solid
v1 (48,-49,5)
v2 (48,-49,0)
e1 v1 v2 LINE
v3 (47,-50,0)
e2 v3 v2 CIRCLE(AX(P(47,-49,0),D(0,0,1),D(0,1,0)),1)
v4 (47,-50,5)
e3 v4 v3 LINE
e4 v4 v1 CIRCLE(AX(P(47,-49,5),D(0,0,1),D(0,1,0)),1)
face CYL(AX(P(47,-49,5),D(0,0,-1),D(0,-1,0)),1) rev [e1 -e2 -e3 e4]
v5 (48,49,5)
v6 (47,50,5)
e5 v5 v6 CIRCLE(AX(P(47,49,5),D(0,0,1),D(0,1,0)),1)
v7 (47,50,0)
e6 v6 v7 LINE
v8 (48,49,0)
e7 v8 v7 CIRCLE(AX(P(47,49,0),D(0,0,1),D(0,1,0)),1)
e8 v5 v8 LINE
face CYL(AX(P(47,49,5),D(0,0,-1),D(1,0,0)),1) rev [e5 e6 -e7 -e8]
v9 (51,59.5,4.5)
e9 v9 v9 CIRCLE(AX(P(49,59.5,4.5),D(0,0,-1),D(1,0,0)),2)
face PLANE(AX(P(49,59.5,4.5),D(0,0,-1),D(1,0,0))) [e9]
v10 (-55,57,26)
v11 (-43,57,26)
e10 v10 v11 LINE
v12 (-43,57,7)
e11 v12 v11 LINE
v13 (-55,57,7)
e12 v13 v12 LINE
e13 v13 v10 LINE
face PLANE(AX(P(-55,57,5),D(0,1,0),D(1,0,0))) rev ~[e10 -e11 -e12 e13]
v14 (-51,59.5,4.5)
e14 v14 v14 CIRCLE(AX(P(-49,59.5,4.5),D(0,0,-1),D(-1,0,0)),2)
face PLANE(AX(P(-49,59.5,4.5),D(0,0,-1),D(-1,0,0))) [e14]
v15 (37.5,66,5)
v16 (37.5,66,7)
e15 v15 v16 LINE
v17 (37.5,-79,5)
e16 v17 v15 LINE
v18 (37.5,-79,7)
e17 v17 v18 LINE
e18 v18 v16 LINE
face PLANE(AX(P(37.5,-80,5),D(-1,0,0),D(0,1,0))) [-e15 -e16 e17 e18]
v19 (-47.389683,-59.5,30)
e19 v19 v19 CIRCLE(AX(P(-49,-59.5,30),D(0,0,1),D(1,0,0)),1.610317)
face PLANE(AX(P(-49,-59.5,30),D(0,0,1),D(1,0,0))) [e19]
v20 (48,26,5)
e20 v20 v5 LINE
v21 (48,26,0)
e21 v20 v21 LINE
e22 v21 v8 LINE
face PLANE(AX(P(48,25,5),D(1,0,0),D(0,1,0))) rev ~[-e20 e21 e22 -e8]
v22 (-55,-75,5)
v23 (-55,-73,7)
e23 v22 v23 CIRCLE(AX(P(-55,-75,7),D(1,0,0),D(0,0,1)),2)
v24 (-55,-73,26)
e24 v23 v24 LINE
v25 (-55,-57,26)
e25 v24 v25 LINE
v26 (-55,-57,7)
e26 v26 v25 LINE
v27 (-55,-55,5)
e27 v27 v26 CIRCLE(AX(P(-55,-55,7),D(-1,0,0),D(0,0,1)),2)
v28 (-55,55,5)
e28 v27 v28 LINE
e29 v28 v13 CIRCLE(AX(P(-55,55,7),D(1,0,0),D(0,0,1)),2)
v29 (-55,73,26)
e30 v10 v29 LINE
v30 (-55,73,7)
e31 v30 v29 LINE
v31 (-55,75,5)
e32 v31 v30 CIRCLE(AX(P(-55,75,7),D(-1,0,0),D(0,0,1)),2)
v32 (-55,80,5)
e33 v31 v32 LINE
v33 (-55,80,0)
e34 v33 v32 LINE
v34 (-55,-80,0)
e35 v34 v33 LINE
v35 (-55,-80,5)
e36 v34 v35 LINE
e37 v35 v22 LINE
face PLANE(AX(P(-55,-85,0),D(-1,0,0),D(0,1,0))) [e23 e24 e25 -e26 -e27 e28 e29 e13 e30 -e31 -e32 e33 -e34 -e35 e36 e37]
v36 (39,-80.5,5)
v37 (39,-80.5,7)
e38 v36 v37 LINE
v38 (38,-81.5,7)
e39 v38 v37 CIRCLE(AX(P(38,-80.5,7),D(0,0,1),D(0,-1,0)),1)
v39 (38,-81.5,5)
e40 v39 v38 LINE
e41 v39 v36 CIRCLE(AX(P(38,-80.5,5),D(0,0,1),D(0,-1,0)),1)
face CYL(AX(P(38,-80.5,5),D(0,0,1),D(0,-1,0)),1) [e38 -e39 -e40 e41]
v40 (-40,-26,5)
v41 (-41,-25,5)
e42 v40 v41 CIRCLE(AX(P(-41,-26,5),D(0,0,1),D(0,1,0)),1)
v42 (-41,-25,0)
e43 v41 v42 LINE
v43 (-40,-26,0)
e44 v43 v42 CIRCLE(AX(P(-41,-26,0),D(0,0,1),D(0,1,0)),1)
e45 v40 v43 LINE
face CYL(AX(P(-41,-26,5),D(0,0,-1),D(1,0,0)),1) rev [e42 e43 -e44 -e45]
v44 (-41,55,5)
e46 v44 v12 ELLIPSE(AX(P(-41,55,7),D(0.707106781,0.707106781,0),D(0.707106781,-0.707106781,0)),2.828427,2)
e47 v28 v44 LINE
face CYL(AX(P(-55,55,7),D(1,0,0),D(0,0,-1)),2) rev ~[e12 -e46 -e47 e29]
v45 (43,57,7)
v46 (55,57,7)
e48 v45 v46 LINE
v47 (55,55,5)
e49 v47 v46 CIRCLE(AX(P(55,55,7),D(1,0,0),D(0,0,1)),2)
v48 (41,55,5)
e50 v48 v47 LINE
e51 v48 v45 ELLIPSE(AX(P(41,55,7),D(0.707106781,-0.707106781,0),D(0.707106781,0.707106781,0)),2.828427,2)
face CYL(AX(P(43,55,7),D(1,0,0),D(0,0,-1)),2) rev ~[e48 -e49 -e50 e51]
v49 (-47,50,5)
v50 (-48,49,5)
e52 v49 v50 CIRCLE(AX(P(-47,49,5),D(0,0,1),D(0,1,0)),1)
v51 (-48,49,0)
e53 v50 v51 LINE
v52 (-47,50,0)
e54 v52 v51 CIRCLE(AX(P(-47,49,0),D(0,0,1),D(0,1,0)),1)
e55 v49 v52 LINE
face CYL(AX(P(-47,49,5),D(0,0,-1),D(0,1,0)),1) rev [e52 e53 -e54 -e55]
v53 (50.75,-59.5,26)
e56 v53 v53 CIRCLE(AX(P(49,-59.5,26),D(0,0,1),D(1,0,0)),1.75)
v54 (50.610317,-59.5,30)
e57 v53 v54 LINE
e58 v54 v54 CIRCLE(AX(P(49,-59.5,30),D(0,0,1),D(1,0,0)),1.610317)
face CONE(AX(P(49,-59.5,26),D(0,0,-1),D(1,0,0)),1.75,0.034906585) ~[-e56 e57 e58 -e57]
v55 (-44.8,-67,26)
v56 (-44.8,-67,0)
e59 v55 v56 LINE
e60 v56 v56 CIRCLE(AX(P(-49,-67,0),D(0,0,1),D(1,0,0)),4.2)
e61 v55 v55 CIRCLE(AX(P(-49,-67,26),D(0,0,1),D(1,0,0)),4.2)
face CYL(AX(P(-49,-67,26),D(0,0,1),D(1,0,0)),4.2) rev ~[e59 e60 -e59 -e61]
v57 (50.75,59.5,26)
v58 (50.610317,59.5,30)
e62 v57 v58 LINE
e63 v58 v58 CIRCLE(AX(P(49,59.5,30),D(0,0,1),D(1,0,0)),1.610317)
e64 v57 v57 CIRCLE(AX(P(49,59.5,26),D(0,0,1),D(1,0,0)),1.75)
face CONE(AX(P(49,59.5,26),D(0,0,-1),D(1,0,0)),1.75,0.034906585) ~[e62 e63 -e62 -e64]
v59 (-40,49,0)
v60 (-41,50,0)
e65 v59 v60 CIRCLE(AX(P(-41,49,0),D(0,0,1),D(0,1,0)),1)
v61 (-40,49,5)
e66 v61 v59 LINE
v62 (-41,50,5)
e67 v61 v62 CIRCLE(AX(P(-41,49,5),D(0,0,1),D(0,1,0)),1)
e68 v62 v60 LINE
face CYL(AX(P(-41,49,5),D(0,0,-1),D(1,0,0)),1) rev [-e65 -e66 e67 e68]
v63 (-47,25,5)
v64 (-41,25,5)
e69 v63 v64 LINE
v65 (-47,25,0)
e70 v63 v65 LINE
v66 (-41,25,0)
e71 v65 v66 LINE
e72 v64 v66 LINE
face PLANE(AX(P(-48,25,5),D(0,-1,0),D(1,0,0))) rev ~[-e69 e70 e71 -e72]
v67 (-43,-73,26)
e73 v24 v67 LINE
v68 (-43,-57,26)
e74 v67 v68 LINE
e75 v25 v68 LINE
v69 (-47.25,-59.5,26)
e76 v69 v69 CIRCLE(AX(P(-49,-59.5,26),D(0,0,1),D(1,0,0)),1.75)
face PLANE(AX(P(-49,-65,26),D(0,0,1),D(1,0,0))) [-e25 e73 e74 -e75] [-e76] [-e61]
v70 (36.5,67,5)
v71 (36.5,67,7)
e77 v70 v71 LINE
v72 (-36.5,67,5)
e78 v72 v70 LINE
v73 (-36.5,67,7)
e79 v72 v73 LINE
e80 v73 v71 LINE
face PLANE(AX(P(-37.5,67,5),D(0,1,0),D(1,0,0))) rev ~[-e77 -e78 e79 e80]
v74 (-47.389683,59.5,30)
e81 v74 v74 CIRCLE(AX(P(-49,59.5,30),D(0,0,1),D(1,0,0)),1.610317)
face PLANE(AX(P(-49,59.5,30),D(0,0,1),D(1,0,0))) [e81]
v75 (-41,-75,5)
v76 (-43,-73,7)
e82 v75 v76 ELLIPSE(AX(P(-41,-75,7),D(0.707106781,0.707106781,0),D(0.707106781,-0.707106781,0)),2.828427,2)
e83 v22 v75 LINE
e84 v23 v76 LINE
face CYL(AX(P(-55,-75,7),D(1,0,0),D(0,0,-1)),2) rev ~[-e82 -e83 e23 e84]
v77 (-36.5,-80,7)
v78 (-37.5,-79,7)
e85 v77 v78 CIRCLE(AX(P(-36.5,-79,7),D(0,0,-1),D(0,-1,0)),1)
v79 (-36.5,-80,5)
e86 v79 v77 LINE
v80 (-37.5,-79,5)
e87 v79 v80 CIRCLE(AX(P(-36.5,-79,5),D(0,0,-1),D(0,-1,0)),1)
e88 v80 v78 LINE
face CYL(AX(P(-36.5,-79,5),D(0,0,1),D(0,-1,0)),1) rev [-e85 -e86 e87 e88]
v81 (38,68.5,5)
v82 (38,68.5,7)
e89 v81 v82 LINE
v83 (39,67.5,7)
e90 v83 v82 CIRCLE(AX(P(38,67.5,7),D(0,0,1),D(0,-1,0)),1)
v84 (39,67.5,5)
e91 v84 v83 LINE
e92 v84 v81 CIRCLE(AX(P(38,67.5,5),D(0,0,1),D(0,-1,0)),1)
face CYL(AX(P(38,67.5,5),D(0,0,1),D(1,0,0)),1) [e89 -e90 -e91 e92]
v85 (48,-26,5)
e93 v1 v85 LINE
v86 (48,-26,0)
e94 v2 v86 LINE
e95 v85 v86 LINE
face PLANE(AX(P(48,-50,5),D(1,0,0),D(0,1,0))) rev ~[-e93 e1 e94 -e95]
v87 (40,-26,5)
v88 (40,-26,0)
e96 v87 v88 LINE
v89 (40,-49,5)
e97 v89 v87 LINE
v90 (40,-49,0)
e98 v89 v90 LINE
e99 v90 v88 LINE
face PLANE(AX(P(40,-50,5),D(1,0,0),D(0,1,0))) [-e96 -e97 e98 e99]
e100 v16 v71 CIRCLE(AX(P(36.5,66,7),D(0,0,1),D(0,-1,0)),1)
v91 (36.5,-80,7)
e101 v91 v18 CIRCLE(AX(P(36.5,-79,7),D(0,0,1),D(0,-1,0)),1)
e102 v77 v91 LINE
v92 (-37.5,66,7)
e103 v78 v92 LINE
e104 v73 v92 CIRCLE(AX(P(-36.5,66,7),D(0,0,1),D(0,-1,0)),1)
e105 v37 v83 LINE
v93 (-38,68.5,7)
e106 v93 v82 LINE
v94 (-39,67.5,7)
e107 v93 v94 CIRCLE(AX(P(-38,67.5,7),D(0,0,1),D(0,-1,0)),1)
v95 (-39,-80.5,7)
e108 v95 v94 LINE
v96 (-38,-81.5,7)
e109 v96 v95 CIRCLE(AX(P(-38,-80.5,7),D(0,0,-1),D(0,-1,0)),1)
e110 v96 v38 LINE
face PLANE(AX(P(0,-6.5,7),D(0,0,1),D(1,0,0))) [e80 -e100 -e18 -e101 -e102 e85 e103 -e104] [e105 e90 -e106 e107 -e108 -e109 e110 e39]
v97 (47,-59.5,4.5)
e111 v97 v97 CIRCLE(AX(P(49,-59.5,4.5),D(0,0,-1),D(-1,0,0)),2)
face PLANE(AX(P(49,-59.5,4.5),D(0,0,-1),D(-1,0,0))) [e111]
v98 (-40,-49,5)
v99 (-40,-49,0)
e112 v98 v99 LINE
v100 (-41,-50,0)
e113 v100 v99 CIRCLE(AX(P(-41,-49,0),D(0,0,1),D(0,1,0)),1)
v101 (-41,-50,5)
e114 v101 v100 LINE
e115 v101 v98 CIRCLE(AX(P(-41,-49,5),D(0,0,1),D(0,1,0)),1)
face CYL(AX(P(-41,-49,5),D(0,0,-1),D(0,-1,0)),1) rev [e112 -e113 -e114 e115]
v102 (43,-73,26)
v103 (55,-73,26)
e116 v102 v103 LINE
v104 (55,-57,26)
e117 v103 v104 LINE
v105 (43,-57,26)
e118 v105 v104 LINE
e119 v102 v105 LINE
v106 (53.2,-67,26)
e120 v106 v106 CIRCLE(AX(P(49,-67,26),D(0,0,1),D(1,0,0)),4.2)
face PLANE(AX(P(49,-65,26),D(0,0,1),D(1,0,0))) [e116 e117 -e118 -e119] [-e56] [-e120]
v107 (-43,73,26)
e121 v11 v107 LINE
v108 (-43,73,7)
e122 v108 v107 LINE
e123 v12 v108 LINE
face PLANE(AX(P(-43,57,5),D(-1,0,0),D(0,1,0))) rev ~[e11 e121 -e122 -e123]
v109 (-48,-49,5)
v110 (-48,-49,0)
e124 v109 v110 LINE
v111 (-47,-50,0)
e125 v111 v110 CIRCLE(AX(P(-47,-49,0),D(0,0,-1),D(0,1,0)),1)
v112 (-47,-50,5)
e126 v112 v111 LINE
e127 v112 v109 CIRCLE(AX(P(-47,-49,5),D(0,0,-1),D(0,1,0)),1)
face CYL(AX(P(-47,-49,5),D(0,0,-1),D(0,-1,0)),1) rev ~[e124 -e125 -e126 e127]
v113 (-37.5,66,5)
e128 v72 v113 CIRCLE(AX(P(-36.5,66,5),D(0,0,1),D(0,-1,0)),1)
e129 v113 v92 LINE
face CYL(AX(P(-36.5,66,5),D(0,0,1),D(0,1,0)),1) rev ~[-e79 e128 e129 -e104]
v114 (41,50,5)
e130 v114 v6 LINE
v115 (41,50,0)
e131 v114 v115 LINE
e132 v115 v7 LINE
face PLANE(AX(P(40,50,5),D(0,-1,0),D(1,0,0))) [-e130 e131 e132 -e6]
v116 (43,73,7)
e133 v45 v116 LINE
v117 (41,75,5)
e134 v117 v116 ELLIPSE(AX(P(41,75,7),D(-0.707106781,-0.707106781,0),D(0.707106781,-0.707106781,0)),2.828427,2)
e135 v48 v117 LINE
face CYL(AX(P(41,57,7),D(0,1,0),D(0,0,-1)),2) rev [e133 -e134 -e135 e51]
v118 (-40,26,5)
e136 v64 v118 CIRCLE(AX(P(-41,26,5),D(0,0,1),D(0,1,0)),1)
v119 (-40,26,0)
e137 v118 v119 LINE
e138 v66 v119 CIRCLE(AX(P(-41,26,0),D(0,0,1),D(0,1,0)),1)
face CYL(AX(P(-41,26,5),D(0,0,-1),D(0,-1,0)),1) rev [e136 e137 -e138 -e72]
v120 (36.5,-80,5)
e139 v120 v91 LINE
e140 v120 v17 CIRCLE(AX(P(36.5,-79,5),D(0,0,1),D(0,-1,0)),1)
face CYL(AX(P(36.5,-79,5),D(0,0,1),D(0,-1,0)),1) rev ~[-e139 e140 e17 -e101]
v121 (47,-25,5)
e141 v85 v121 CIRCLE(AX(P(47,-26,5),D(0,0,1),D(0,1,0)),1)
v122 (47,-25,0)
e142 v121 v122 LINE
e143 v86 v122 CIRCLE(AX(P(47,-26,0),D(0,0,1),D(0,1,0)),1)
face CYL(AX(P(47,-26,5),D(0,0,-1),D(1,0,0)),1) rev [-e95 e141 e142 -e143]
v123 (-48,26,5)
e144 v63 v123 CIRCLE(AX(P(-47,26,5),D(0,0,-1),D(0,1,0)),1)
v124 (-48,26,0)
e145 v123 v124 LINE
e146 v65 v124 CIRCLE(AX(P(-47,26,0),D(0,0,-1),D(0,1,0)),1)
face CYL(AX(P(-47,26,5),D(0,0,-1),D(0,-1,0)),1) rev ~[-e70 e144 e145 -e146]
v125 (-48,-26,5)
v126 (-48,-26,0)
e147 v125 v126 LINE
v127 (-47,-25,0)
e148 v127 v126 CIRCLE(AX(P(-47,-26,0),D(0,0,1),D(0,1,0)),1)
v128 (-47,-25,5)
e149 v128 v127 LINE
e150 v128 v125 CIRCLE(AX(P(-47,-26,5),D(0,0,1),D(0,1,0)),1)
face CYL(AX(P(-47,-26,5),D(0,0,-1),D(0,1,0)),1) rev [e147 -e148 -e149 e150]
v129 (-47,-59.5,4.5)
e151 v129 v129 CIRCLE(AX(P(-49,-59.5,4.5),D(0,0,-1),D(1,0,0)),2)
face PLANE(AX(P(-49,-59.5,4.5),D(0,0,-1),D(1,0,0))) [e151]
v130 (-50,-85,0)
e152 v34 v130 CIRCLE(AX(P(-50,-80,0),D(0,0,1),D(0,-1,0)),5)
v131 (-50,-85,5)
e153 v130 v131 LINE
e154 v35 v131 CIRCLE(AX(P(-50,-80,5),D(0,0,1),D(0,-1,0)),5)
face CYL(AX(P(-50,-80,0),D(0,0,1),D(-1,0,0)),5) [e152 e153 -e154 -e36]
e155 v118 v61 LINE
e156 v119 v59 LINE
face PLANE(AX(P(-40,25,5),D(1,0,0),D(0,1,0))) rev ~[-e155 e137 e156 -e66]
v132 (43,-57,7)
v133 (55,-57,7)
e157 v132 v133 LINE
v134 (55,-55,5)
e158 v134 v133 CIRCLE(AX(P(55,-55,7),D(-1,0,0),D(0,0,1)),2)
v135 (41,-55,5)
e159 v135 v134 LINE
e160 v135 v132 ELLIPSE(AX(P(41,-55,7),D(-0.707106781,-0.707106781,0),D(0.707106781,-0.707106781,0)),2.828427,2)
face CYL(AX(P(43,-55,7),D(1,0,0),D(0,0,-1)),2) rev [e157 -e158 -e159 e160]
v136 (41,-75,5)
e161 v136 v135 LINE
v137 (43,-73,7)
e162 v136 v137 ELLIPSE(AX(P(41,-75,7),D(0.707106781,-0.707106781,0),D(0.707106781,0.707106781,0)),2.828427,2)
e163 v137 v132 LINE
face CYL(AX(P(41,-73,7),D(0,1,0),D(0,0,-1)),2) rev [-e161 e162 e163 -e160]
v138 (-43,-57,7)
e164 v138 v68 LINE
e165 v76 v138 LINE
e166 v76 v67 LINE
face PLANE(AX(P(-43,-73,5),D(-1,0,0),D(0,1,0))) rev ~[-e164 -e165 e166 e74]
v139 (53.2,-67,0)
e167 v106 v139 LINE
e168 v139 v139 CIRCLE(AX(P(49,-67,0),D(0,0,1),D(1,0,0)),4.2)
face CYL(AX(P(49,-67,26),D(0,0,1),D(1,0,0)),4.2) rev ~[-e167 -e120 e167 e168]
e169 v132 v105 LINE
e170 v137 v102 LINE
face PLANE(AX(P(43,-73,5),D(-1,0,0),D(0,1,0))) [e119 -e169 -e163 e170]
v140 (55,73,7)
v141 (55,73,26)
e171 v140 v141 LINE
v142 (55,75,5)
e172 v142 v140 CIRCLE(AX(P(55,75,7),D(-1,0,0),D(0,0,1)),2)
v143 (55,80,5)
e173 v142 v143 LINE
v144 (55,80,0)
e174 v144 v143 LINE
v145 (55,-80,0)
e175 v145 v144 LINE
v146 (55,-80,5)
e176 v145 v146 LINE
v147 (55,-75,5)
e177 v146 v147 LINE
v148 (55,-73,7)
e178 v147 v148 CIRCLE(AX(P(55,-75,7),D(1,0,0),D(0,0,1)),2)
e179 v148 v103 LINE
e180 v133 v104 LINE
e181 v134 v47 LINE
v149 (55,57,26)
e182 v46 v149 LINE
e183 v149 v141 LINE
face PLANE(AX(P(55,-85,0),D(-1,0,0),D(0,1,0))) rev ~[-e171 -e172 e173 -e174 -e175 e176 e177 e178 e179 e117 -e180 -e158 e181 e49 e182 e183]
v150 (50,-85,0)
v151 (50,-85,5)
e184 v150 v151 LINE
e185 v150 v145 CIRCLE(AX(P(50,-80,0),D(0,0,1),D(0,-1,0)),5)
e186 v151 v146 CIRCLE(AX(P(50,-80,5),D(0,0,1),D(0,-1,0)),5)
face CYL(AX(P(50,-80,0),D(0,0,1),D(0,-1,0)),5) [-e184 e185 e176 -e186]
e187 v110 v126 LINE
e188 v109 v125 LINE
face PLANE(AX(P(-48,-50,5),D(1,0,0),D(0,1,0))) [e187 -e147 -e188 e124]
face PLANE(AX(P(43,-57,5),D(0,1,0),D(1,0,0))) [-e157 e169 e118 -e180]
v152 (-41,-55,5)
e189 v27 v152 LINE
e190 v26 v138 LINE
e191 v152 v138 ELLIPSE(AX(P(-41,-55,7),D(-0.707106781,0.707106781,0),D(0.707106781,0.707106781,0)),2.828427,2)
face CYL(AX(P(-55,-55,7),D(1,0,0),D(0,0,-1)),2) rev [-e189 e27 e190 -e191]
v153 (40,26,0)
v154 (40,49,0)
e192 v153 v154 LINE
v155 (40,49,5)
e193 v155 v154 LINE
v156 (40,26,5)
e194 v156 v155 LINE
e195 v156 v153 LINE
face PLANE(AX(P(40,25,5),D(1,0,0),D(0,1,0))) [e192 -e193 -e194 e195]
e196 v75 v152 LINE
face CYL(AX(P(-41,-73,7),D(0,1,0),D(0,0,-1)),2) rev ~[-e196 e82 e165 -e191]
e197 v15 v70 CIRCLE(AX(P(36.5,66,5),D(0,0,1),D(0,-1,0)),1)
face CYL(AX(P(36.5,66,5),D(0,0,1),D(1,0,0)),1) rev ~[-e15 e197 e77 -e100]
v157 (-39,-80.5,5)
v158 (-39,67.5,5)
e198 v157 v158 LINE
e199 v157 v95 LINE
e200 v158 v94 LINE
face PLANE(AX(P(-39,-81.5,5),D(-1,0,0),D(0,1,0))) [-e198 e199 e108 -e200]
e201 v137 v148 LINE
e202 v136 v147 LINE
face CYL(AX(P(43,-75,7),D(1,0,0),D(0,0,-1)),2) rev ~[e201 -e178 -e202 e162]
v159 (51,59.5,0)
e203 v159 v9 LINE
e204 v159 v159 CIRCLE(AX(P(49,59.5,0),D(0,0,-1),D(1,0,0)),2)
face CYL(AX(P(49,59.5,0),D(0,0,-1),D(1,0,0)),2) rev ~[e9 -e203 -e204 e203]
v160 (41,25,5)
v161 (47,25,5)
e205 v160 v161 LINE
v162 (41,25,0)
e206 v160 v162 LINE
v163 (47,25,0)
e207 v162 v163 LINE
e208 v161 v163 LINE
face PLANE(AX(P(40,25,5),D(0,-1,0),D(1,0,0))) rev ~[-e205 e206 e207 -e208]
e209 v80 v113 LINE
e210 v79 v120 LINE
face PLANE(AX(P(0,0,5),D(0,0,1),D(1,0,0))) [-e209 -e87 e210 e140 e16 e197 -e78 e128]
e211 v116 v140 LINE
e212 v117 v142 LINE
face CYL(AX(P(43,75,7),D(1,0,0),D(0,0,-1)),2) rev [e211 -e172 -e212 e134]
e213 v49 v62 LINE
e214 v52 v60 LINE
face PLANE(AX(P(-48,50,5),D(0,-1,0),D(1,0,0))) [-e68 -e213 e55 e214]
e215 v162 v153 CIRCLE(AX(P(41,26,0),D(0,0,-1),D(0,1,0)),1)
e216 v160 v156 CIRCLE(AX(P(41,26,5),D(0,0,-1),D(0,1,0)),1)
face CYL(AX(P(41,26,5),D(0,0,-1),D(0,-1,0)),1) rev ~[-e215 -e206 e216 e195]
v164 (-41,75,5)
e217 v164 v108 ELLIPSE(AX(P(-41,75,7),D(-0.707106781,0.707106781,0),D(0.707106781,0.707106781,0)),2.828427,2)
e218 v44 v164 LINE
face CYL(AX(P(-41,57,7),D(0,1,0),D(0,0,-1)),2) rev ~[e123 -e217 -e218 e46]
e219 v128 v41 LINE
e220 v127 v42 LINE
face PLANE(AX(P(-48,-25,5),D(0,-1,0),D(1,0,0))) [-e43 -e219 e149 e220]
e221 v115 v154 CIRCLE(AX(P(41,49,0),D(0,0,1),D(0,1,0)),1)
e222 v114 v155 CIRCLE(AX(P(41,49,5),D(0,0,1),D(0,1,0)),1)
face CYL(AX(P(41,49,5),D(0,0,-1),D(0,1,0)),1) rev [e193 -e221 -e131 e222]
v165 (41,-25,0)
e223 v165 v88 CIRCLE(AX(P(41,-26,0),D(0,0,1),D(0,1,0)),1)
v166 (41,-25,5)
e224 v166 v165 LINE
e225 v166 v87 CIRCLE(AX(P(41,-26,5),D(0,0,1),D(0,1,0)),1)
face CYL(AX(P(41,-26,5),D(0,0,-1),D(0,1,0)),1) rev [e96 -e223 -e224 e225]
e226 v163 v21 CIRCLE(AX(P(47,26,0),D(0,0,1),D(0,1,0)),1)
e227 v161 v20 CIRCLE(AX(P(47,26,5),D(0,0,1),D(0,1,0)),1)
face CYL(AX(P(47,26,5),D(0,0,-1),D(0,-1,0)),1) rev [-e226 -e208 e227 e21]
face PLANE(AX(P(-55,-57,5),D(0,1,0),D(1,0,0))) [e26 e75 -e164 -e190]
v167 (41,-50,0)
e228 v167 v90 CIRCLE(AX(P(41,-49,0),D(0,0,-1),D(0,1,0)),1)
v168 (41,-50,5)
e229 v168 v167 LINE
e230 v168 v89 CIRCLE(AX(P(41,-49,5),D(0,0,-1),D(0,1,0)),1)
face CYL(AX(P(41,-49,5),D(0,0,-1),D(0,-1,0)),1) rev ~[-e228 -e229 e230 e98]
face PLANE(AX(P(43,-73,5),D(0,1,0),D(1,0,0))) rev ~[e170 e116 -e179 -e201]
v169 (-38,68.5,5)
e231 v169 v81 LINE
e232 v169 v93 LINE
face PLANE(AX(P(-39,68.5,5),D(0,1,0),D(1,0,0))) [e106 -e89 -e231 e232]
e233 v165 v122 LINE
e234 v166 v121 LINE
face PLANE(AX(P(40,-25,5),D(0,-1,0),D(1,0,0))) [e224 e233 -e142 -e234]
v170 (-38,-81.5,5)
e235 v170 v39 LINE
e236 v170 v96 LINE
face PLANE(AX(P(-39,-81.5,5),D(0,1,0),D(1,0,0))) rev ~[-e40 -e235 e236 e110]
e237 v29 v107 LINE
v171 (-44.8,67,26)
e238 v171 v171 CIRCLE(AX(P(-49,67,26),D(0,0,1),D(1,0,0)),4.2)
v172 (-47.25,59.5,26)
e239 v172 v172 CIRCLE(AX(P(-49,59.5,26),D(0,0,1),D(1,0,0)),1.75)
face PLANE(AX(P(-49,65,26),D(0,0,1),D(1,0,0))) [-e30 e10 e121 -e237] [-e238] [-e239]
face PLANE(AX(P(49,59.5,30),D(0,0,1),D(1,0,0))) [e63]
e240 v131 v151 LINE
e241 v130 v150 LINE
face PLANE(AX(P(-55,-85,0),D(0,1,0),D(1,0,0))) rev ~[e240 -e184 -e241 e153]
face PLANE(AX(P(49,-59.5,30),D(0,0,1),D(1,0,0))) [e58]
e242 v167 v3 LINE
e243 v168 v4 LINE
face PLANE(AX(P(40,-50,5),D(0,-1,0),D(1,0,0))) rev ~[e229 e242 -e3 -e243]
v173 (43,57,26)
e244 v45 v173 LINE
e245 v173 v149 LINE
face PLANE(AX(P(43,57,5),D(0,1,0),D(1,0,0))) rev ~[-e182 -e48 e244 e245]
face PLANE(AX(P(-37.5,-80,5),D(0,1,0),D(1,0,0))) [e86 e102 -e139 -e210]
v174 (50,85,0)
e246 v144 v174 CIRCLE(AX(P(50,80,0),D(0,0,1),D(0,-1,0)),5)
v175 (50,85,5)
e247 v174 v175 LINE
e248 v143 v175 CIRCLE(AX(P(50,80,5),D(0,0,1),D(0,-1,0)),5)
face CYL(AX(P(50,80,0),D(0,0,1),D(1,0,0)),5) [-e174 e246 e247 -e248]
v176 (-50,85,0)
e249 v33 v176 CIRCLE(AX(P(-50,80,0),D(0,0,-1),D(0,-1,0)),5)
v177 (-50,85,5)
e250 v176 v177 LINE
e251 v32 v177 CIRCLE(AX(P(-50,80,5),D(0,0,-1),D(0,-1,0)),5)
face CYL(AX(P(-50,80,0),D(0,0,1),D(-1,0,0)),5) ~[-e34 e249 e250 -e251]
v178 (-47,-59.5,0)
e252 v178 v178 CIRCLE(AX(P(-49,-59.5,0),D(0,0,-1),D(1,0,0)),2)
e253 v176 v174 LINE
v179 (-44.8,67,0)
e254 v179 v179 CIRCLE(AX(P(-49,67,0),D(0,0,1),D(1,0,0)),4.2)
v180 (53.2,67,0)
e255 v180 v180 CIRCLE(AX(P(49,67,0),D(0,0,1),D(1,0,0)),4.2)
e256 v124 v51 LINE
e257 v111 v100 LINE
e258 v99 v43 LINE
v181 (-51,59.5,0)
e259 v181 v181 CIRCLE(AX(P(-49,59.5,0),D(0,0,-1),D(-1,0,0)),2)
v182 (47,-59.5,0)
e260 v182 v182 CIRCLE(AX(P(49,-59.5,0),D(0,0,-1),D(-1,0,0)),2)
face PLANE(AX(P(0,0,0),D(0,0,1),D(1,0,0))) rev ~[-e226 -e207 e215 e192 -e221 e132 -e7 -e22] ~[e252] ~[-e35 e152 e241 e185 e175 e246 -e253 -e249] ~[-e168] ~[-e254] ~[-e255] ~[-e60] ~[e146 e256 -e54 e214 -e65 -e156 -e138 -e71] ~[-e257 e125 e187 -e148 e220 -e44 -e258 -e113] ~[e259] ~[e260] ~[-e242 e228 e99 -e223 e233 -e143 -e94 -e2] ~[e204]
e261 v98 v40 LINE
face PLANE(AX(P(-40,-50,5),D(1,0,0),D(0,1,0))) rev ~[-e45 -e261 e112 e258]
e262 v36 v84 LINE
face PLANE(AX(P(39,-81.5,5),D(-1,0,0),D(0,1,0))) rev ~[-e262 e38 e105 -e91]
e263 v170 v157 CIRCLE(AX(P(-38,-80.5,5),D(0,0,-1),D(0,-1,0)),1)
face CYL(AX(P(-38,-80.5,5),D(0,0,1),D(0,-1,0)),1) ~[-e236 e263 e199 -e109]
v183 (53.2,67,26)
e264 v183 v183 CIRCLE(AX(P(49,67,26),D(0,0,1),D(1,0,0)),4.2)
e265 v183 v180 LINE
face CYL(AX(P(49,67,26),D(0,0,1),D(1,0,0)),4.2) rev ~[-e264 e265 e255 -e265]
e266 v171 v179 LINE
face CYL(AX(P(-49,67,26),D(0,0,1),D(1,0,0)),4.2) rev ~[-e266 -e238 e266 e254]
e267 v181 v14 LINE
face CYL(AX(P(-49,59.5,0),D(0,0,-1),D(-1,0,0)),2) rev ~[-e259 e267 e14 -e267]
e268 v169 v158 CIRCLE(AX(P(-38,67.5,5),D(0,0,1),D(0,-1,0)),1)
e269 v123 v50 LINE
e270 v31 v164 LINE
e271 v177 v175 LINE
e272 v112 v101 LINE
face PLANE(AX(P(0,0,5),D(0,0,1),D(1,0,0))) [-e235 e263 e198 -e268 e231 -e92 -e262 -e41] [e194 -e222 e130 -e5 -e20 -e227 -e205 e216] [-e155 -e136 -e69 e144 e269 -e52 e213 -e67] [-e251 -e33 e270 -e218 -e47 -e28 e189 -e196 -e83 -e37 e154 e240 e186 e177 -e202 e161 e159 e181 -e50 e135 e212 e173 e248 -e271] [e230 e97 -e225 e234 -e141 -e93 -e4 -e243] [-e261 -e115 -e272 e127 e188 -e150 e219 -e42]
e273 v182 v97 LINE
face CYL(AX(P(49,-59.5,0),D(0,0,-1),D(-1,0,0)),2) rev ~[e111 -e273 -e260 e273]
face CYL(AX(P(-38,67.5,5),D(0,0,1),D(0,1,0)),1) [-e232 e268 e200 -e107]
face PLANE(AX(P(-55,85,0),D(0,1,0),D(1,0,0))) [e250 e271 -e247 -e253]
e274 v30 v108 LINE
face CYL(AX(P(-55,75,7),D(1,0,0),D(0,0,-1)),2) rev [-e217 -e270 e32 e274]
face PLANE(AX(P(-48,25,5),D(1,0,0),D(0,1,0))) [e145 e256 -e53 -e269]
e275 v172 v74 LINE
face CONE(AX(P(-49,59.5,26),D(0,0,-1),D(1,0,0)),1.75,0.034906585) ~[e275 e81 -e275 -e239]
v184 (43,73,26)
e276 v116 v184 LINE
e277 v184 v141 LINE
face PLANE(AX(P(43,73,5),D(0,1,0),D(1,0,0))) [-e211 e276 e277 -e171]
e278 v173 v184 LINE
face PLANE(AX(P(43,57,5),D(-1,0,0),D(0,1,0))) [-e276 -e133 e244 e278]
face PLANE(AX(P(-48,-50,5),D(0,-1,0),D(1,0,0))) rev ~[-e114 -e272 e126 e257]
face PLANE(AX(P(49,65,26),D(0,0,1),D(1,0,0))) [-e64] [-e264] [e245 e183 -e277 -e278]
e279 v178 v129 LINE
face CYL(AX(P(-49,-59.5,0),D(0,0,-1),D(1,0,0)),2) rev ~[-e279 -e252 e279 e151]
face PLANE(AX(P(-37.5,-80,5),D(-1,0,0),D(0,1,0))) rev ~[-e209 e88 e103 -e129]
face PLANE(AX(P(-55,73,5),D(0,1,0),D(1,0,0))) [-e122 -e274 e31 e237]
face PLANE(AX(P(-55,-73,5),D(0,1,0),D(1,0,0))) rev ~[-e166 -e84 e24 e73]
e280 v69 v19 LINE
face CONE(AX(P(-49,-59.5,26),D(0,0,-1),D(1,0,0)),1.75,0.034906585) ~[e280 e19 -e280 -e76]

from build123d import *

# Parameters (mm, degrees)
SKIZZE1_W                                 = 110
SKIZZE1_H                                 = 170
AUFSATZ_LINEAR_AUSTRAGEN1_DEPTH           = 5
VERRUNDUNG1_R                             = 5
SKIZZE7_W                                 = 12
SKIZZE7_H                                 = 16
AUFSATZ_LINEAR_AUSTRAGEN3_DEPTH           = 21
VERRUNDUNG2_R                             = 2
SKIZZE8_R                                 = 4.2
SCHNITT_LINEAR_AUSTRAGEN3_DEPTH           = 105.527508341
LINEARES_MUSTER1_COUNT                    = 2
LINEARES_MUSTER1_PITCH                    = 134
LINEARES_MUSTER1_COUNT_DIR2               = 2
LINEARES_MUSTER1_PITCH_DIR2               = 98
SKIZZE11_W                                = 78
SKIZZE11_H                                = 150
SKIZZE11_W_2                              = 75
SKIZZE11_H_2                              = 147
AUFSATZ_LINEAR_AUSTRAGEN4_DEPTH           = 2
VERRUNDUNG3_R                             = 1
SKIZZE12_W                                = 8
SKIZZE12_H                                = 25
SCHNITT_LINEAR_AUSTRAGEN4_DEPTH           = 104.397292034
SKIZZE13_R                                = 1.75
AUFSATZ_LINEAR_AUSTRAGEN5_DEPTH           = 4
AUFSATZ_LINEAR_AUSTRAGEN5_DRAFT           = 2
AUFSATZ_LINEAR_AUSTRAGEN5_PROFILE_2_DEPTH = 4
AUFSATZ_LINEAR_AUSTRAGEN5_PROFILE_2_DRAFT = 2
AUFSATZ_LINEAR_AUSTRAGEN5_PROFILE_3_DEPTH = 4
AUFSATZ_LINEAR_AUSTRAGEN5_PROFILE_3_DRAFT = 2
AUFSATZ_LINEAR_AUSTRAGEN5_PROFILE_4_DEPTH = 4
AUFSATZ_LINEAR_AUSTRAGEN5_PROFILE_4_DRAFT = 2
SKIZZE14_R                                = 2
SCHNITT_LINEAR_AUSTRAGEN5_DEPTH           = 4.5
VERRUNDUNG4_R                             = 1


with BuildPart() as part:
    # Skizze1 → Aufsatz-Linear austragen1 (new body)
    with BuildSketch(Plane.XY):
        Rectangle(SKIZZE1_W, SKIZZE1_H)
    extrude(amount=AUFSATZ_LINEAR_AUSTRAGEN1_DEPTH)

    # Verrundung1
    verrundung1_edges = [part.edges().sort_by_distance(p)[0] for p in [
        (55, -85, 2.5),
        (-55, -85, 2.5),
        (-55, 85, 2.5),
        (55, 85, 2.5),
    ]]
    fillet(verrundung1_edges, radius=VERRUNDUNG1_R)

    # Skizze7 → Aufsatz-Linear austragen3 (add)
    with BuildSketch(Plane.XY.offset(5)):
        with Locations((-49, 65)):
            Rectangle(SKIZZE7_W, SKIZZE7_H)
        with Locations((49, 65)):
            Rectangle(SKIZZE7_W, SKIZZE7_H)
        with Locations((49, -65)):
            Rectangle(SKIZZE7_W, SKIZZE7_H)
        with Locations((-49, -65)):
            Rectangle(SKIZZE7_W, SKIZZE7_H)
    extrude(amount=AUFSATZ_LINEAR_AUSTRAGEN3_DEPTH)

    # Verrundung2
    verrundung2_edges = [part.edges().sort_by_distance(p)[0] for p in [
        (-49, 57, 5),
        (-43, 65, 5),
        (-49, 73, 5),
        (49, 73, 5),
        (43, 65, 5),
        (49, 57, 5),
        (49, -57, 5),
        (43, -65, 5),
        (49, -73, 5),
        (-49, -73, 5),
        (-43, -65, 5),
        (-49, -57, 5),
    ]]
    fillet(verrundung2_edges, radius=VERRUNDUNG2_R)

    # Skizze8 → Schnitt-Linear austragen3 (cut, through all)
    with BuildSketch(Plane.XY.offset(26)):
        with Locations((-49, 67)):
            Circle(SKIZZE8_R)
    schnitt_linear_austragen3 = extrude(amount=-SCHNITT_LINEAR_AUSTRAGEN3_DEPTH, mode=Mode.SUBTRACT)

    # Lineares Muster1: Schnitt-Linear austragen3 2 × 2
    with Locations(*[(j * LINEARES_MUSTER1_PITCH_DIR2, -i * LINEARES_MUSTER1_PITCH, 0) for i in range(LINEARES_MUSTER1_COUNT) for j in range(LINEARES_MUSTER1_COUNT_DIR2) if (i, j) != (0, 0)]):
        add(schnitt_linear_austragen3, mode=Mode.SUBTRACT)

    # Skizze11 → Aufsatz-Linear austragen4 (add)
    with BuildSketch(Plane.XY.offset(5)):
        with Locations((0, -6.5)):
            Rectangle(SKIZZE11_W, SKIZZE11_H)
        with Locations((0, -6.5)):
            Rectangle(SKIZZE11_W_2, SKIZZE11_H_2, mode=Mode.SUBTRACT)
    extrude(amount=AUFSATZ_LINEAR_AUSTRAGEN4_DEPTH)

    # Verrundung3
    verrundung3_edges = [part.edges().sort_by_distance(p)[0] for p in [
        (39, -81.5, 6),
        (39, 68.5, 6),
        (-39, 68.5, 6),
        (-39, -81.5, 6),
        (37.5, 67, 6),
        (-37.5, 67, 6),
        (-37.5, -80, 6),
        (37.5, -80, 6),
    ]]
    fillet(verrundung3_edges, radius=VERRUNDUNG3_R)

    # Skizze12 → Schnitt-Linear austragen4 (cut, through all)
    with BuildSketch(Plane.XY.offset(5)):
        with Locations((-44, 37.5)):
            Rectangle(SKIZZE12_W, SKIZZE12_H)
        with Locations((44, 37.5)):
            Rectangle(SKIZZE12_W, SKIZZE12_H)
        with Locations((44, -37.5)):
            Rectangle(SKIZZE12_W, SKIZZE12_H)
        with Locations((-44, -37.5)):
            Rectangle(SKIZZE12_W, SKIZZE12_H)
    extrude(amount=-SCHNITT_LINEAR_AUSTRAGEN4_DEPTH, mode=Mode.SUBTRACT)


with BuildPart() as aufsatz_linear_austragen5_tool:
    # Skizze13 → Aufsatz-Linear austragen5 (with draft: the straight prism first)
    with BuildSketch(Plane.XY.offset(26)):
        with Locations((-49, 59.5)):
            Circle(SKIZZE13_R)
    extrude(amount=AUFSATZ_LINEAR_AUSTRAGEN5_DEPTH)
    # Aufsatz-Linear austragen5: the draft: its side faces are tilted about the plane it starts from
    aufsatz_linear_austragen5_sides = [aufsatz_linear_austragen5_tool.faces().sort_by_distance(p)[0] for p in [
        (-50.75, 59.5, 28),
    ]]
    draft(aufsatz_linear_austragen5_sides, Plane.XY.offset(26), AUFSATZ_LINEAR_AUSTRAGEN5_DRAFT)


with BuildPart() as part_1:
    add(part.part)

    # Aufsatz-Linear austragen5: add aufsatz_linear_austragen5_tool
    add(aufsatz_linear_austragen5_tool.part)


with BuildPart() as aufsatz_linear_austragen5_profile_2_tool:
    # Skizze13 → Aufsatz-Linear austragen5 profile 2 (with draft: the straight prism first)
    with BuildSketch(Plane.XY.offset(26)):
        with Locations((49, 59.5)):
            Circle(SKIZZE13_R)
    extrude(amount=AUFSATZ_LINEAR_AUSTRAGEN5_PROFILE_2_DEPTH)
    # Aufsatz-Linear austragen5 profile 2: the draft: its side faces are tilted about the plane it starts from
    aufsatz_linear_austragen5_profile_2_sides = [aufsatz_linear_austragen5_profile_2_tool.faces().sort_by_distance(p)[0] for p in [
        (47.25, 59.5, 28),
    ]]
    draft(aufsatz_linear_austragen5_profile_2_sides, Plane.XY.offset(26), AUFSATZ_LINEAR_AUSTRAGEN5_PROFILE_2_DRAFT)


with BuildPart() as part_2:
    add(part_1.part)

    # Aufsatz-Linear austragen5 profile 2: add aufsatz_linear_austragen5_profile_2_tool
    add(aufsatz_linear_austragen5_profile_2_tool.part)


with BuildPart() as aufsatz_linear_austragen5_profile_3_tool:
    # Skizze13 → Aufsatz-Linear austragen5 profile 3 (with draft: the straight prism first)
    with BuildSketch(Plane.XY.offset(26)):
        with Locations((49, -59.5)):
            Circle(SKIZZE13_R)
    extrude(amount=AUFSATZ_LINEAR_AUSTRAGEN5_PROFILE_3_DEPTH)
    # Aufsatz-Linear austragen5 profile 3: the draft: its side faces are tilted about the plane it starts from
    aufsatz_linear_austragen5_profile_3_sides = [aufsatz_linear_austragen5_profile_3_tool.faces().sort_by_distance(p)[0] for p in [
        (47.25, -59.5, 28),
    ]]
    draft(aufsatz_linear_austragen5_profile_3_sides, Plane.XY.offset(26), AUFSATZ_LINEAR_AUSTRAGEN5_PROFILE_3_DRAFT)


with BuildPart() as part_3:
    add(part_2.part)

    # Aufsatz-Linear austragen5 profile 3: add aufsatz_linear_austragen5_profile_3_tool
    add(aufsatz_linear_austragen5_profile_3_tool.part)


with BuildPart() as aufsatz_linear_austragen5_profile_4_tool:
    # Skizze13 → Aufsatz-Linear austragen5 profile 4 (with draft: the straight prism first)
    with BuildSketch(Plane.XY.offset(26)):
        with Locations((-49, -59.5)):
            Circle(SKIZZE13_R)
    extrude(amount=AUFSATZ_LINEAR_AUSTRAGEN5_PROFILE_4_DEPTH)
    # Aufsatz-Linear austragen5 profile 4: the draft: its side faces are tilted about the plane it starts from
    aufsatz_linear_austragen5_profile_4_sides = [aufsatz_linear_austragen5_profile_4_tool.faces().sort_by_distance(p)[0] for p in [
        (-50.75, -59.5, 28),
    ]]
    draft(aufsatz_linear_austragen5_profile_4_sides, Plane.XY.offset(26), AUFSATZ_LINEAR_AUSTRAGEN5_PROFILE_4_DRAFT)


with BuildPart() as part_4:
    add(part_3.part)

    # Aufsatz-Linear austragen5 profile 4: add aufsatz_linear_austragen5_profile_4_tool
    add(aufsatz_linear_austragen5_profile_4_tool.part)

    # Skizze14 → Schnitt-Linear austragen5 (cut)
    with BuildSketch(Plane(origin=(0, 0, 0), x_dir=(-1, 0, 0), z_dir=(0, 0, -1))):
        with Locations((49, 59.5)):
            Circle(SKIZZE14_R)
        with Locations(Location((-49, 59.5, 0), (0, 0, 180))):
            Circle(SKIZZE14_R)
        with Locations((-49, -59.5)):
            Circle(SKIZZE14_R)
        with Locations(Location((49, -59.5, 0), (0, 0, 180))):
            Circle(SKIZZE14_R)
    extrude(amount=-SCHNITT_LINEAR_AUSTRAGEN5_DEPTH, mode=Mode.SUBTRACT)

    # Verrundung4
    verrundung4_edges = [part_4.edges().sort_by_distance(p)[0] for p in [
        (-48, -50, 2.5),
        (-48, -25, 2.5),
        (-40, -25, 2.5),
        (-40, -50, 2.5),
        (40, -25, 2.5),
        (48, -25, 2.5),
        (48, -50, 2.5),
        (40, -50, 2.5),
        (48, 50, 2.5),
        (48, 25, 2.5),
        (40, 25, 2.5),
        (40, 50, 2.5),
        (-40, 50, 2.5),
        (-40, 25, 2.5),
        (-48, 25, 2.5),
        (-48, 50, 2.5),
    ]]
    fillet(verrundung4_edges, radius=VERRUNDUNG4_R)


solid = part_4.part
